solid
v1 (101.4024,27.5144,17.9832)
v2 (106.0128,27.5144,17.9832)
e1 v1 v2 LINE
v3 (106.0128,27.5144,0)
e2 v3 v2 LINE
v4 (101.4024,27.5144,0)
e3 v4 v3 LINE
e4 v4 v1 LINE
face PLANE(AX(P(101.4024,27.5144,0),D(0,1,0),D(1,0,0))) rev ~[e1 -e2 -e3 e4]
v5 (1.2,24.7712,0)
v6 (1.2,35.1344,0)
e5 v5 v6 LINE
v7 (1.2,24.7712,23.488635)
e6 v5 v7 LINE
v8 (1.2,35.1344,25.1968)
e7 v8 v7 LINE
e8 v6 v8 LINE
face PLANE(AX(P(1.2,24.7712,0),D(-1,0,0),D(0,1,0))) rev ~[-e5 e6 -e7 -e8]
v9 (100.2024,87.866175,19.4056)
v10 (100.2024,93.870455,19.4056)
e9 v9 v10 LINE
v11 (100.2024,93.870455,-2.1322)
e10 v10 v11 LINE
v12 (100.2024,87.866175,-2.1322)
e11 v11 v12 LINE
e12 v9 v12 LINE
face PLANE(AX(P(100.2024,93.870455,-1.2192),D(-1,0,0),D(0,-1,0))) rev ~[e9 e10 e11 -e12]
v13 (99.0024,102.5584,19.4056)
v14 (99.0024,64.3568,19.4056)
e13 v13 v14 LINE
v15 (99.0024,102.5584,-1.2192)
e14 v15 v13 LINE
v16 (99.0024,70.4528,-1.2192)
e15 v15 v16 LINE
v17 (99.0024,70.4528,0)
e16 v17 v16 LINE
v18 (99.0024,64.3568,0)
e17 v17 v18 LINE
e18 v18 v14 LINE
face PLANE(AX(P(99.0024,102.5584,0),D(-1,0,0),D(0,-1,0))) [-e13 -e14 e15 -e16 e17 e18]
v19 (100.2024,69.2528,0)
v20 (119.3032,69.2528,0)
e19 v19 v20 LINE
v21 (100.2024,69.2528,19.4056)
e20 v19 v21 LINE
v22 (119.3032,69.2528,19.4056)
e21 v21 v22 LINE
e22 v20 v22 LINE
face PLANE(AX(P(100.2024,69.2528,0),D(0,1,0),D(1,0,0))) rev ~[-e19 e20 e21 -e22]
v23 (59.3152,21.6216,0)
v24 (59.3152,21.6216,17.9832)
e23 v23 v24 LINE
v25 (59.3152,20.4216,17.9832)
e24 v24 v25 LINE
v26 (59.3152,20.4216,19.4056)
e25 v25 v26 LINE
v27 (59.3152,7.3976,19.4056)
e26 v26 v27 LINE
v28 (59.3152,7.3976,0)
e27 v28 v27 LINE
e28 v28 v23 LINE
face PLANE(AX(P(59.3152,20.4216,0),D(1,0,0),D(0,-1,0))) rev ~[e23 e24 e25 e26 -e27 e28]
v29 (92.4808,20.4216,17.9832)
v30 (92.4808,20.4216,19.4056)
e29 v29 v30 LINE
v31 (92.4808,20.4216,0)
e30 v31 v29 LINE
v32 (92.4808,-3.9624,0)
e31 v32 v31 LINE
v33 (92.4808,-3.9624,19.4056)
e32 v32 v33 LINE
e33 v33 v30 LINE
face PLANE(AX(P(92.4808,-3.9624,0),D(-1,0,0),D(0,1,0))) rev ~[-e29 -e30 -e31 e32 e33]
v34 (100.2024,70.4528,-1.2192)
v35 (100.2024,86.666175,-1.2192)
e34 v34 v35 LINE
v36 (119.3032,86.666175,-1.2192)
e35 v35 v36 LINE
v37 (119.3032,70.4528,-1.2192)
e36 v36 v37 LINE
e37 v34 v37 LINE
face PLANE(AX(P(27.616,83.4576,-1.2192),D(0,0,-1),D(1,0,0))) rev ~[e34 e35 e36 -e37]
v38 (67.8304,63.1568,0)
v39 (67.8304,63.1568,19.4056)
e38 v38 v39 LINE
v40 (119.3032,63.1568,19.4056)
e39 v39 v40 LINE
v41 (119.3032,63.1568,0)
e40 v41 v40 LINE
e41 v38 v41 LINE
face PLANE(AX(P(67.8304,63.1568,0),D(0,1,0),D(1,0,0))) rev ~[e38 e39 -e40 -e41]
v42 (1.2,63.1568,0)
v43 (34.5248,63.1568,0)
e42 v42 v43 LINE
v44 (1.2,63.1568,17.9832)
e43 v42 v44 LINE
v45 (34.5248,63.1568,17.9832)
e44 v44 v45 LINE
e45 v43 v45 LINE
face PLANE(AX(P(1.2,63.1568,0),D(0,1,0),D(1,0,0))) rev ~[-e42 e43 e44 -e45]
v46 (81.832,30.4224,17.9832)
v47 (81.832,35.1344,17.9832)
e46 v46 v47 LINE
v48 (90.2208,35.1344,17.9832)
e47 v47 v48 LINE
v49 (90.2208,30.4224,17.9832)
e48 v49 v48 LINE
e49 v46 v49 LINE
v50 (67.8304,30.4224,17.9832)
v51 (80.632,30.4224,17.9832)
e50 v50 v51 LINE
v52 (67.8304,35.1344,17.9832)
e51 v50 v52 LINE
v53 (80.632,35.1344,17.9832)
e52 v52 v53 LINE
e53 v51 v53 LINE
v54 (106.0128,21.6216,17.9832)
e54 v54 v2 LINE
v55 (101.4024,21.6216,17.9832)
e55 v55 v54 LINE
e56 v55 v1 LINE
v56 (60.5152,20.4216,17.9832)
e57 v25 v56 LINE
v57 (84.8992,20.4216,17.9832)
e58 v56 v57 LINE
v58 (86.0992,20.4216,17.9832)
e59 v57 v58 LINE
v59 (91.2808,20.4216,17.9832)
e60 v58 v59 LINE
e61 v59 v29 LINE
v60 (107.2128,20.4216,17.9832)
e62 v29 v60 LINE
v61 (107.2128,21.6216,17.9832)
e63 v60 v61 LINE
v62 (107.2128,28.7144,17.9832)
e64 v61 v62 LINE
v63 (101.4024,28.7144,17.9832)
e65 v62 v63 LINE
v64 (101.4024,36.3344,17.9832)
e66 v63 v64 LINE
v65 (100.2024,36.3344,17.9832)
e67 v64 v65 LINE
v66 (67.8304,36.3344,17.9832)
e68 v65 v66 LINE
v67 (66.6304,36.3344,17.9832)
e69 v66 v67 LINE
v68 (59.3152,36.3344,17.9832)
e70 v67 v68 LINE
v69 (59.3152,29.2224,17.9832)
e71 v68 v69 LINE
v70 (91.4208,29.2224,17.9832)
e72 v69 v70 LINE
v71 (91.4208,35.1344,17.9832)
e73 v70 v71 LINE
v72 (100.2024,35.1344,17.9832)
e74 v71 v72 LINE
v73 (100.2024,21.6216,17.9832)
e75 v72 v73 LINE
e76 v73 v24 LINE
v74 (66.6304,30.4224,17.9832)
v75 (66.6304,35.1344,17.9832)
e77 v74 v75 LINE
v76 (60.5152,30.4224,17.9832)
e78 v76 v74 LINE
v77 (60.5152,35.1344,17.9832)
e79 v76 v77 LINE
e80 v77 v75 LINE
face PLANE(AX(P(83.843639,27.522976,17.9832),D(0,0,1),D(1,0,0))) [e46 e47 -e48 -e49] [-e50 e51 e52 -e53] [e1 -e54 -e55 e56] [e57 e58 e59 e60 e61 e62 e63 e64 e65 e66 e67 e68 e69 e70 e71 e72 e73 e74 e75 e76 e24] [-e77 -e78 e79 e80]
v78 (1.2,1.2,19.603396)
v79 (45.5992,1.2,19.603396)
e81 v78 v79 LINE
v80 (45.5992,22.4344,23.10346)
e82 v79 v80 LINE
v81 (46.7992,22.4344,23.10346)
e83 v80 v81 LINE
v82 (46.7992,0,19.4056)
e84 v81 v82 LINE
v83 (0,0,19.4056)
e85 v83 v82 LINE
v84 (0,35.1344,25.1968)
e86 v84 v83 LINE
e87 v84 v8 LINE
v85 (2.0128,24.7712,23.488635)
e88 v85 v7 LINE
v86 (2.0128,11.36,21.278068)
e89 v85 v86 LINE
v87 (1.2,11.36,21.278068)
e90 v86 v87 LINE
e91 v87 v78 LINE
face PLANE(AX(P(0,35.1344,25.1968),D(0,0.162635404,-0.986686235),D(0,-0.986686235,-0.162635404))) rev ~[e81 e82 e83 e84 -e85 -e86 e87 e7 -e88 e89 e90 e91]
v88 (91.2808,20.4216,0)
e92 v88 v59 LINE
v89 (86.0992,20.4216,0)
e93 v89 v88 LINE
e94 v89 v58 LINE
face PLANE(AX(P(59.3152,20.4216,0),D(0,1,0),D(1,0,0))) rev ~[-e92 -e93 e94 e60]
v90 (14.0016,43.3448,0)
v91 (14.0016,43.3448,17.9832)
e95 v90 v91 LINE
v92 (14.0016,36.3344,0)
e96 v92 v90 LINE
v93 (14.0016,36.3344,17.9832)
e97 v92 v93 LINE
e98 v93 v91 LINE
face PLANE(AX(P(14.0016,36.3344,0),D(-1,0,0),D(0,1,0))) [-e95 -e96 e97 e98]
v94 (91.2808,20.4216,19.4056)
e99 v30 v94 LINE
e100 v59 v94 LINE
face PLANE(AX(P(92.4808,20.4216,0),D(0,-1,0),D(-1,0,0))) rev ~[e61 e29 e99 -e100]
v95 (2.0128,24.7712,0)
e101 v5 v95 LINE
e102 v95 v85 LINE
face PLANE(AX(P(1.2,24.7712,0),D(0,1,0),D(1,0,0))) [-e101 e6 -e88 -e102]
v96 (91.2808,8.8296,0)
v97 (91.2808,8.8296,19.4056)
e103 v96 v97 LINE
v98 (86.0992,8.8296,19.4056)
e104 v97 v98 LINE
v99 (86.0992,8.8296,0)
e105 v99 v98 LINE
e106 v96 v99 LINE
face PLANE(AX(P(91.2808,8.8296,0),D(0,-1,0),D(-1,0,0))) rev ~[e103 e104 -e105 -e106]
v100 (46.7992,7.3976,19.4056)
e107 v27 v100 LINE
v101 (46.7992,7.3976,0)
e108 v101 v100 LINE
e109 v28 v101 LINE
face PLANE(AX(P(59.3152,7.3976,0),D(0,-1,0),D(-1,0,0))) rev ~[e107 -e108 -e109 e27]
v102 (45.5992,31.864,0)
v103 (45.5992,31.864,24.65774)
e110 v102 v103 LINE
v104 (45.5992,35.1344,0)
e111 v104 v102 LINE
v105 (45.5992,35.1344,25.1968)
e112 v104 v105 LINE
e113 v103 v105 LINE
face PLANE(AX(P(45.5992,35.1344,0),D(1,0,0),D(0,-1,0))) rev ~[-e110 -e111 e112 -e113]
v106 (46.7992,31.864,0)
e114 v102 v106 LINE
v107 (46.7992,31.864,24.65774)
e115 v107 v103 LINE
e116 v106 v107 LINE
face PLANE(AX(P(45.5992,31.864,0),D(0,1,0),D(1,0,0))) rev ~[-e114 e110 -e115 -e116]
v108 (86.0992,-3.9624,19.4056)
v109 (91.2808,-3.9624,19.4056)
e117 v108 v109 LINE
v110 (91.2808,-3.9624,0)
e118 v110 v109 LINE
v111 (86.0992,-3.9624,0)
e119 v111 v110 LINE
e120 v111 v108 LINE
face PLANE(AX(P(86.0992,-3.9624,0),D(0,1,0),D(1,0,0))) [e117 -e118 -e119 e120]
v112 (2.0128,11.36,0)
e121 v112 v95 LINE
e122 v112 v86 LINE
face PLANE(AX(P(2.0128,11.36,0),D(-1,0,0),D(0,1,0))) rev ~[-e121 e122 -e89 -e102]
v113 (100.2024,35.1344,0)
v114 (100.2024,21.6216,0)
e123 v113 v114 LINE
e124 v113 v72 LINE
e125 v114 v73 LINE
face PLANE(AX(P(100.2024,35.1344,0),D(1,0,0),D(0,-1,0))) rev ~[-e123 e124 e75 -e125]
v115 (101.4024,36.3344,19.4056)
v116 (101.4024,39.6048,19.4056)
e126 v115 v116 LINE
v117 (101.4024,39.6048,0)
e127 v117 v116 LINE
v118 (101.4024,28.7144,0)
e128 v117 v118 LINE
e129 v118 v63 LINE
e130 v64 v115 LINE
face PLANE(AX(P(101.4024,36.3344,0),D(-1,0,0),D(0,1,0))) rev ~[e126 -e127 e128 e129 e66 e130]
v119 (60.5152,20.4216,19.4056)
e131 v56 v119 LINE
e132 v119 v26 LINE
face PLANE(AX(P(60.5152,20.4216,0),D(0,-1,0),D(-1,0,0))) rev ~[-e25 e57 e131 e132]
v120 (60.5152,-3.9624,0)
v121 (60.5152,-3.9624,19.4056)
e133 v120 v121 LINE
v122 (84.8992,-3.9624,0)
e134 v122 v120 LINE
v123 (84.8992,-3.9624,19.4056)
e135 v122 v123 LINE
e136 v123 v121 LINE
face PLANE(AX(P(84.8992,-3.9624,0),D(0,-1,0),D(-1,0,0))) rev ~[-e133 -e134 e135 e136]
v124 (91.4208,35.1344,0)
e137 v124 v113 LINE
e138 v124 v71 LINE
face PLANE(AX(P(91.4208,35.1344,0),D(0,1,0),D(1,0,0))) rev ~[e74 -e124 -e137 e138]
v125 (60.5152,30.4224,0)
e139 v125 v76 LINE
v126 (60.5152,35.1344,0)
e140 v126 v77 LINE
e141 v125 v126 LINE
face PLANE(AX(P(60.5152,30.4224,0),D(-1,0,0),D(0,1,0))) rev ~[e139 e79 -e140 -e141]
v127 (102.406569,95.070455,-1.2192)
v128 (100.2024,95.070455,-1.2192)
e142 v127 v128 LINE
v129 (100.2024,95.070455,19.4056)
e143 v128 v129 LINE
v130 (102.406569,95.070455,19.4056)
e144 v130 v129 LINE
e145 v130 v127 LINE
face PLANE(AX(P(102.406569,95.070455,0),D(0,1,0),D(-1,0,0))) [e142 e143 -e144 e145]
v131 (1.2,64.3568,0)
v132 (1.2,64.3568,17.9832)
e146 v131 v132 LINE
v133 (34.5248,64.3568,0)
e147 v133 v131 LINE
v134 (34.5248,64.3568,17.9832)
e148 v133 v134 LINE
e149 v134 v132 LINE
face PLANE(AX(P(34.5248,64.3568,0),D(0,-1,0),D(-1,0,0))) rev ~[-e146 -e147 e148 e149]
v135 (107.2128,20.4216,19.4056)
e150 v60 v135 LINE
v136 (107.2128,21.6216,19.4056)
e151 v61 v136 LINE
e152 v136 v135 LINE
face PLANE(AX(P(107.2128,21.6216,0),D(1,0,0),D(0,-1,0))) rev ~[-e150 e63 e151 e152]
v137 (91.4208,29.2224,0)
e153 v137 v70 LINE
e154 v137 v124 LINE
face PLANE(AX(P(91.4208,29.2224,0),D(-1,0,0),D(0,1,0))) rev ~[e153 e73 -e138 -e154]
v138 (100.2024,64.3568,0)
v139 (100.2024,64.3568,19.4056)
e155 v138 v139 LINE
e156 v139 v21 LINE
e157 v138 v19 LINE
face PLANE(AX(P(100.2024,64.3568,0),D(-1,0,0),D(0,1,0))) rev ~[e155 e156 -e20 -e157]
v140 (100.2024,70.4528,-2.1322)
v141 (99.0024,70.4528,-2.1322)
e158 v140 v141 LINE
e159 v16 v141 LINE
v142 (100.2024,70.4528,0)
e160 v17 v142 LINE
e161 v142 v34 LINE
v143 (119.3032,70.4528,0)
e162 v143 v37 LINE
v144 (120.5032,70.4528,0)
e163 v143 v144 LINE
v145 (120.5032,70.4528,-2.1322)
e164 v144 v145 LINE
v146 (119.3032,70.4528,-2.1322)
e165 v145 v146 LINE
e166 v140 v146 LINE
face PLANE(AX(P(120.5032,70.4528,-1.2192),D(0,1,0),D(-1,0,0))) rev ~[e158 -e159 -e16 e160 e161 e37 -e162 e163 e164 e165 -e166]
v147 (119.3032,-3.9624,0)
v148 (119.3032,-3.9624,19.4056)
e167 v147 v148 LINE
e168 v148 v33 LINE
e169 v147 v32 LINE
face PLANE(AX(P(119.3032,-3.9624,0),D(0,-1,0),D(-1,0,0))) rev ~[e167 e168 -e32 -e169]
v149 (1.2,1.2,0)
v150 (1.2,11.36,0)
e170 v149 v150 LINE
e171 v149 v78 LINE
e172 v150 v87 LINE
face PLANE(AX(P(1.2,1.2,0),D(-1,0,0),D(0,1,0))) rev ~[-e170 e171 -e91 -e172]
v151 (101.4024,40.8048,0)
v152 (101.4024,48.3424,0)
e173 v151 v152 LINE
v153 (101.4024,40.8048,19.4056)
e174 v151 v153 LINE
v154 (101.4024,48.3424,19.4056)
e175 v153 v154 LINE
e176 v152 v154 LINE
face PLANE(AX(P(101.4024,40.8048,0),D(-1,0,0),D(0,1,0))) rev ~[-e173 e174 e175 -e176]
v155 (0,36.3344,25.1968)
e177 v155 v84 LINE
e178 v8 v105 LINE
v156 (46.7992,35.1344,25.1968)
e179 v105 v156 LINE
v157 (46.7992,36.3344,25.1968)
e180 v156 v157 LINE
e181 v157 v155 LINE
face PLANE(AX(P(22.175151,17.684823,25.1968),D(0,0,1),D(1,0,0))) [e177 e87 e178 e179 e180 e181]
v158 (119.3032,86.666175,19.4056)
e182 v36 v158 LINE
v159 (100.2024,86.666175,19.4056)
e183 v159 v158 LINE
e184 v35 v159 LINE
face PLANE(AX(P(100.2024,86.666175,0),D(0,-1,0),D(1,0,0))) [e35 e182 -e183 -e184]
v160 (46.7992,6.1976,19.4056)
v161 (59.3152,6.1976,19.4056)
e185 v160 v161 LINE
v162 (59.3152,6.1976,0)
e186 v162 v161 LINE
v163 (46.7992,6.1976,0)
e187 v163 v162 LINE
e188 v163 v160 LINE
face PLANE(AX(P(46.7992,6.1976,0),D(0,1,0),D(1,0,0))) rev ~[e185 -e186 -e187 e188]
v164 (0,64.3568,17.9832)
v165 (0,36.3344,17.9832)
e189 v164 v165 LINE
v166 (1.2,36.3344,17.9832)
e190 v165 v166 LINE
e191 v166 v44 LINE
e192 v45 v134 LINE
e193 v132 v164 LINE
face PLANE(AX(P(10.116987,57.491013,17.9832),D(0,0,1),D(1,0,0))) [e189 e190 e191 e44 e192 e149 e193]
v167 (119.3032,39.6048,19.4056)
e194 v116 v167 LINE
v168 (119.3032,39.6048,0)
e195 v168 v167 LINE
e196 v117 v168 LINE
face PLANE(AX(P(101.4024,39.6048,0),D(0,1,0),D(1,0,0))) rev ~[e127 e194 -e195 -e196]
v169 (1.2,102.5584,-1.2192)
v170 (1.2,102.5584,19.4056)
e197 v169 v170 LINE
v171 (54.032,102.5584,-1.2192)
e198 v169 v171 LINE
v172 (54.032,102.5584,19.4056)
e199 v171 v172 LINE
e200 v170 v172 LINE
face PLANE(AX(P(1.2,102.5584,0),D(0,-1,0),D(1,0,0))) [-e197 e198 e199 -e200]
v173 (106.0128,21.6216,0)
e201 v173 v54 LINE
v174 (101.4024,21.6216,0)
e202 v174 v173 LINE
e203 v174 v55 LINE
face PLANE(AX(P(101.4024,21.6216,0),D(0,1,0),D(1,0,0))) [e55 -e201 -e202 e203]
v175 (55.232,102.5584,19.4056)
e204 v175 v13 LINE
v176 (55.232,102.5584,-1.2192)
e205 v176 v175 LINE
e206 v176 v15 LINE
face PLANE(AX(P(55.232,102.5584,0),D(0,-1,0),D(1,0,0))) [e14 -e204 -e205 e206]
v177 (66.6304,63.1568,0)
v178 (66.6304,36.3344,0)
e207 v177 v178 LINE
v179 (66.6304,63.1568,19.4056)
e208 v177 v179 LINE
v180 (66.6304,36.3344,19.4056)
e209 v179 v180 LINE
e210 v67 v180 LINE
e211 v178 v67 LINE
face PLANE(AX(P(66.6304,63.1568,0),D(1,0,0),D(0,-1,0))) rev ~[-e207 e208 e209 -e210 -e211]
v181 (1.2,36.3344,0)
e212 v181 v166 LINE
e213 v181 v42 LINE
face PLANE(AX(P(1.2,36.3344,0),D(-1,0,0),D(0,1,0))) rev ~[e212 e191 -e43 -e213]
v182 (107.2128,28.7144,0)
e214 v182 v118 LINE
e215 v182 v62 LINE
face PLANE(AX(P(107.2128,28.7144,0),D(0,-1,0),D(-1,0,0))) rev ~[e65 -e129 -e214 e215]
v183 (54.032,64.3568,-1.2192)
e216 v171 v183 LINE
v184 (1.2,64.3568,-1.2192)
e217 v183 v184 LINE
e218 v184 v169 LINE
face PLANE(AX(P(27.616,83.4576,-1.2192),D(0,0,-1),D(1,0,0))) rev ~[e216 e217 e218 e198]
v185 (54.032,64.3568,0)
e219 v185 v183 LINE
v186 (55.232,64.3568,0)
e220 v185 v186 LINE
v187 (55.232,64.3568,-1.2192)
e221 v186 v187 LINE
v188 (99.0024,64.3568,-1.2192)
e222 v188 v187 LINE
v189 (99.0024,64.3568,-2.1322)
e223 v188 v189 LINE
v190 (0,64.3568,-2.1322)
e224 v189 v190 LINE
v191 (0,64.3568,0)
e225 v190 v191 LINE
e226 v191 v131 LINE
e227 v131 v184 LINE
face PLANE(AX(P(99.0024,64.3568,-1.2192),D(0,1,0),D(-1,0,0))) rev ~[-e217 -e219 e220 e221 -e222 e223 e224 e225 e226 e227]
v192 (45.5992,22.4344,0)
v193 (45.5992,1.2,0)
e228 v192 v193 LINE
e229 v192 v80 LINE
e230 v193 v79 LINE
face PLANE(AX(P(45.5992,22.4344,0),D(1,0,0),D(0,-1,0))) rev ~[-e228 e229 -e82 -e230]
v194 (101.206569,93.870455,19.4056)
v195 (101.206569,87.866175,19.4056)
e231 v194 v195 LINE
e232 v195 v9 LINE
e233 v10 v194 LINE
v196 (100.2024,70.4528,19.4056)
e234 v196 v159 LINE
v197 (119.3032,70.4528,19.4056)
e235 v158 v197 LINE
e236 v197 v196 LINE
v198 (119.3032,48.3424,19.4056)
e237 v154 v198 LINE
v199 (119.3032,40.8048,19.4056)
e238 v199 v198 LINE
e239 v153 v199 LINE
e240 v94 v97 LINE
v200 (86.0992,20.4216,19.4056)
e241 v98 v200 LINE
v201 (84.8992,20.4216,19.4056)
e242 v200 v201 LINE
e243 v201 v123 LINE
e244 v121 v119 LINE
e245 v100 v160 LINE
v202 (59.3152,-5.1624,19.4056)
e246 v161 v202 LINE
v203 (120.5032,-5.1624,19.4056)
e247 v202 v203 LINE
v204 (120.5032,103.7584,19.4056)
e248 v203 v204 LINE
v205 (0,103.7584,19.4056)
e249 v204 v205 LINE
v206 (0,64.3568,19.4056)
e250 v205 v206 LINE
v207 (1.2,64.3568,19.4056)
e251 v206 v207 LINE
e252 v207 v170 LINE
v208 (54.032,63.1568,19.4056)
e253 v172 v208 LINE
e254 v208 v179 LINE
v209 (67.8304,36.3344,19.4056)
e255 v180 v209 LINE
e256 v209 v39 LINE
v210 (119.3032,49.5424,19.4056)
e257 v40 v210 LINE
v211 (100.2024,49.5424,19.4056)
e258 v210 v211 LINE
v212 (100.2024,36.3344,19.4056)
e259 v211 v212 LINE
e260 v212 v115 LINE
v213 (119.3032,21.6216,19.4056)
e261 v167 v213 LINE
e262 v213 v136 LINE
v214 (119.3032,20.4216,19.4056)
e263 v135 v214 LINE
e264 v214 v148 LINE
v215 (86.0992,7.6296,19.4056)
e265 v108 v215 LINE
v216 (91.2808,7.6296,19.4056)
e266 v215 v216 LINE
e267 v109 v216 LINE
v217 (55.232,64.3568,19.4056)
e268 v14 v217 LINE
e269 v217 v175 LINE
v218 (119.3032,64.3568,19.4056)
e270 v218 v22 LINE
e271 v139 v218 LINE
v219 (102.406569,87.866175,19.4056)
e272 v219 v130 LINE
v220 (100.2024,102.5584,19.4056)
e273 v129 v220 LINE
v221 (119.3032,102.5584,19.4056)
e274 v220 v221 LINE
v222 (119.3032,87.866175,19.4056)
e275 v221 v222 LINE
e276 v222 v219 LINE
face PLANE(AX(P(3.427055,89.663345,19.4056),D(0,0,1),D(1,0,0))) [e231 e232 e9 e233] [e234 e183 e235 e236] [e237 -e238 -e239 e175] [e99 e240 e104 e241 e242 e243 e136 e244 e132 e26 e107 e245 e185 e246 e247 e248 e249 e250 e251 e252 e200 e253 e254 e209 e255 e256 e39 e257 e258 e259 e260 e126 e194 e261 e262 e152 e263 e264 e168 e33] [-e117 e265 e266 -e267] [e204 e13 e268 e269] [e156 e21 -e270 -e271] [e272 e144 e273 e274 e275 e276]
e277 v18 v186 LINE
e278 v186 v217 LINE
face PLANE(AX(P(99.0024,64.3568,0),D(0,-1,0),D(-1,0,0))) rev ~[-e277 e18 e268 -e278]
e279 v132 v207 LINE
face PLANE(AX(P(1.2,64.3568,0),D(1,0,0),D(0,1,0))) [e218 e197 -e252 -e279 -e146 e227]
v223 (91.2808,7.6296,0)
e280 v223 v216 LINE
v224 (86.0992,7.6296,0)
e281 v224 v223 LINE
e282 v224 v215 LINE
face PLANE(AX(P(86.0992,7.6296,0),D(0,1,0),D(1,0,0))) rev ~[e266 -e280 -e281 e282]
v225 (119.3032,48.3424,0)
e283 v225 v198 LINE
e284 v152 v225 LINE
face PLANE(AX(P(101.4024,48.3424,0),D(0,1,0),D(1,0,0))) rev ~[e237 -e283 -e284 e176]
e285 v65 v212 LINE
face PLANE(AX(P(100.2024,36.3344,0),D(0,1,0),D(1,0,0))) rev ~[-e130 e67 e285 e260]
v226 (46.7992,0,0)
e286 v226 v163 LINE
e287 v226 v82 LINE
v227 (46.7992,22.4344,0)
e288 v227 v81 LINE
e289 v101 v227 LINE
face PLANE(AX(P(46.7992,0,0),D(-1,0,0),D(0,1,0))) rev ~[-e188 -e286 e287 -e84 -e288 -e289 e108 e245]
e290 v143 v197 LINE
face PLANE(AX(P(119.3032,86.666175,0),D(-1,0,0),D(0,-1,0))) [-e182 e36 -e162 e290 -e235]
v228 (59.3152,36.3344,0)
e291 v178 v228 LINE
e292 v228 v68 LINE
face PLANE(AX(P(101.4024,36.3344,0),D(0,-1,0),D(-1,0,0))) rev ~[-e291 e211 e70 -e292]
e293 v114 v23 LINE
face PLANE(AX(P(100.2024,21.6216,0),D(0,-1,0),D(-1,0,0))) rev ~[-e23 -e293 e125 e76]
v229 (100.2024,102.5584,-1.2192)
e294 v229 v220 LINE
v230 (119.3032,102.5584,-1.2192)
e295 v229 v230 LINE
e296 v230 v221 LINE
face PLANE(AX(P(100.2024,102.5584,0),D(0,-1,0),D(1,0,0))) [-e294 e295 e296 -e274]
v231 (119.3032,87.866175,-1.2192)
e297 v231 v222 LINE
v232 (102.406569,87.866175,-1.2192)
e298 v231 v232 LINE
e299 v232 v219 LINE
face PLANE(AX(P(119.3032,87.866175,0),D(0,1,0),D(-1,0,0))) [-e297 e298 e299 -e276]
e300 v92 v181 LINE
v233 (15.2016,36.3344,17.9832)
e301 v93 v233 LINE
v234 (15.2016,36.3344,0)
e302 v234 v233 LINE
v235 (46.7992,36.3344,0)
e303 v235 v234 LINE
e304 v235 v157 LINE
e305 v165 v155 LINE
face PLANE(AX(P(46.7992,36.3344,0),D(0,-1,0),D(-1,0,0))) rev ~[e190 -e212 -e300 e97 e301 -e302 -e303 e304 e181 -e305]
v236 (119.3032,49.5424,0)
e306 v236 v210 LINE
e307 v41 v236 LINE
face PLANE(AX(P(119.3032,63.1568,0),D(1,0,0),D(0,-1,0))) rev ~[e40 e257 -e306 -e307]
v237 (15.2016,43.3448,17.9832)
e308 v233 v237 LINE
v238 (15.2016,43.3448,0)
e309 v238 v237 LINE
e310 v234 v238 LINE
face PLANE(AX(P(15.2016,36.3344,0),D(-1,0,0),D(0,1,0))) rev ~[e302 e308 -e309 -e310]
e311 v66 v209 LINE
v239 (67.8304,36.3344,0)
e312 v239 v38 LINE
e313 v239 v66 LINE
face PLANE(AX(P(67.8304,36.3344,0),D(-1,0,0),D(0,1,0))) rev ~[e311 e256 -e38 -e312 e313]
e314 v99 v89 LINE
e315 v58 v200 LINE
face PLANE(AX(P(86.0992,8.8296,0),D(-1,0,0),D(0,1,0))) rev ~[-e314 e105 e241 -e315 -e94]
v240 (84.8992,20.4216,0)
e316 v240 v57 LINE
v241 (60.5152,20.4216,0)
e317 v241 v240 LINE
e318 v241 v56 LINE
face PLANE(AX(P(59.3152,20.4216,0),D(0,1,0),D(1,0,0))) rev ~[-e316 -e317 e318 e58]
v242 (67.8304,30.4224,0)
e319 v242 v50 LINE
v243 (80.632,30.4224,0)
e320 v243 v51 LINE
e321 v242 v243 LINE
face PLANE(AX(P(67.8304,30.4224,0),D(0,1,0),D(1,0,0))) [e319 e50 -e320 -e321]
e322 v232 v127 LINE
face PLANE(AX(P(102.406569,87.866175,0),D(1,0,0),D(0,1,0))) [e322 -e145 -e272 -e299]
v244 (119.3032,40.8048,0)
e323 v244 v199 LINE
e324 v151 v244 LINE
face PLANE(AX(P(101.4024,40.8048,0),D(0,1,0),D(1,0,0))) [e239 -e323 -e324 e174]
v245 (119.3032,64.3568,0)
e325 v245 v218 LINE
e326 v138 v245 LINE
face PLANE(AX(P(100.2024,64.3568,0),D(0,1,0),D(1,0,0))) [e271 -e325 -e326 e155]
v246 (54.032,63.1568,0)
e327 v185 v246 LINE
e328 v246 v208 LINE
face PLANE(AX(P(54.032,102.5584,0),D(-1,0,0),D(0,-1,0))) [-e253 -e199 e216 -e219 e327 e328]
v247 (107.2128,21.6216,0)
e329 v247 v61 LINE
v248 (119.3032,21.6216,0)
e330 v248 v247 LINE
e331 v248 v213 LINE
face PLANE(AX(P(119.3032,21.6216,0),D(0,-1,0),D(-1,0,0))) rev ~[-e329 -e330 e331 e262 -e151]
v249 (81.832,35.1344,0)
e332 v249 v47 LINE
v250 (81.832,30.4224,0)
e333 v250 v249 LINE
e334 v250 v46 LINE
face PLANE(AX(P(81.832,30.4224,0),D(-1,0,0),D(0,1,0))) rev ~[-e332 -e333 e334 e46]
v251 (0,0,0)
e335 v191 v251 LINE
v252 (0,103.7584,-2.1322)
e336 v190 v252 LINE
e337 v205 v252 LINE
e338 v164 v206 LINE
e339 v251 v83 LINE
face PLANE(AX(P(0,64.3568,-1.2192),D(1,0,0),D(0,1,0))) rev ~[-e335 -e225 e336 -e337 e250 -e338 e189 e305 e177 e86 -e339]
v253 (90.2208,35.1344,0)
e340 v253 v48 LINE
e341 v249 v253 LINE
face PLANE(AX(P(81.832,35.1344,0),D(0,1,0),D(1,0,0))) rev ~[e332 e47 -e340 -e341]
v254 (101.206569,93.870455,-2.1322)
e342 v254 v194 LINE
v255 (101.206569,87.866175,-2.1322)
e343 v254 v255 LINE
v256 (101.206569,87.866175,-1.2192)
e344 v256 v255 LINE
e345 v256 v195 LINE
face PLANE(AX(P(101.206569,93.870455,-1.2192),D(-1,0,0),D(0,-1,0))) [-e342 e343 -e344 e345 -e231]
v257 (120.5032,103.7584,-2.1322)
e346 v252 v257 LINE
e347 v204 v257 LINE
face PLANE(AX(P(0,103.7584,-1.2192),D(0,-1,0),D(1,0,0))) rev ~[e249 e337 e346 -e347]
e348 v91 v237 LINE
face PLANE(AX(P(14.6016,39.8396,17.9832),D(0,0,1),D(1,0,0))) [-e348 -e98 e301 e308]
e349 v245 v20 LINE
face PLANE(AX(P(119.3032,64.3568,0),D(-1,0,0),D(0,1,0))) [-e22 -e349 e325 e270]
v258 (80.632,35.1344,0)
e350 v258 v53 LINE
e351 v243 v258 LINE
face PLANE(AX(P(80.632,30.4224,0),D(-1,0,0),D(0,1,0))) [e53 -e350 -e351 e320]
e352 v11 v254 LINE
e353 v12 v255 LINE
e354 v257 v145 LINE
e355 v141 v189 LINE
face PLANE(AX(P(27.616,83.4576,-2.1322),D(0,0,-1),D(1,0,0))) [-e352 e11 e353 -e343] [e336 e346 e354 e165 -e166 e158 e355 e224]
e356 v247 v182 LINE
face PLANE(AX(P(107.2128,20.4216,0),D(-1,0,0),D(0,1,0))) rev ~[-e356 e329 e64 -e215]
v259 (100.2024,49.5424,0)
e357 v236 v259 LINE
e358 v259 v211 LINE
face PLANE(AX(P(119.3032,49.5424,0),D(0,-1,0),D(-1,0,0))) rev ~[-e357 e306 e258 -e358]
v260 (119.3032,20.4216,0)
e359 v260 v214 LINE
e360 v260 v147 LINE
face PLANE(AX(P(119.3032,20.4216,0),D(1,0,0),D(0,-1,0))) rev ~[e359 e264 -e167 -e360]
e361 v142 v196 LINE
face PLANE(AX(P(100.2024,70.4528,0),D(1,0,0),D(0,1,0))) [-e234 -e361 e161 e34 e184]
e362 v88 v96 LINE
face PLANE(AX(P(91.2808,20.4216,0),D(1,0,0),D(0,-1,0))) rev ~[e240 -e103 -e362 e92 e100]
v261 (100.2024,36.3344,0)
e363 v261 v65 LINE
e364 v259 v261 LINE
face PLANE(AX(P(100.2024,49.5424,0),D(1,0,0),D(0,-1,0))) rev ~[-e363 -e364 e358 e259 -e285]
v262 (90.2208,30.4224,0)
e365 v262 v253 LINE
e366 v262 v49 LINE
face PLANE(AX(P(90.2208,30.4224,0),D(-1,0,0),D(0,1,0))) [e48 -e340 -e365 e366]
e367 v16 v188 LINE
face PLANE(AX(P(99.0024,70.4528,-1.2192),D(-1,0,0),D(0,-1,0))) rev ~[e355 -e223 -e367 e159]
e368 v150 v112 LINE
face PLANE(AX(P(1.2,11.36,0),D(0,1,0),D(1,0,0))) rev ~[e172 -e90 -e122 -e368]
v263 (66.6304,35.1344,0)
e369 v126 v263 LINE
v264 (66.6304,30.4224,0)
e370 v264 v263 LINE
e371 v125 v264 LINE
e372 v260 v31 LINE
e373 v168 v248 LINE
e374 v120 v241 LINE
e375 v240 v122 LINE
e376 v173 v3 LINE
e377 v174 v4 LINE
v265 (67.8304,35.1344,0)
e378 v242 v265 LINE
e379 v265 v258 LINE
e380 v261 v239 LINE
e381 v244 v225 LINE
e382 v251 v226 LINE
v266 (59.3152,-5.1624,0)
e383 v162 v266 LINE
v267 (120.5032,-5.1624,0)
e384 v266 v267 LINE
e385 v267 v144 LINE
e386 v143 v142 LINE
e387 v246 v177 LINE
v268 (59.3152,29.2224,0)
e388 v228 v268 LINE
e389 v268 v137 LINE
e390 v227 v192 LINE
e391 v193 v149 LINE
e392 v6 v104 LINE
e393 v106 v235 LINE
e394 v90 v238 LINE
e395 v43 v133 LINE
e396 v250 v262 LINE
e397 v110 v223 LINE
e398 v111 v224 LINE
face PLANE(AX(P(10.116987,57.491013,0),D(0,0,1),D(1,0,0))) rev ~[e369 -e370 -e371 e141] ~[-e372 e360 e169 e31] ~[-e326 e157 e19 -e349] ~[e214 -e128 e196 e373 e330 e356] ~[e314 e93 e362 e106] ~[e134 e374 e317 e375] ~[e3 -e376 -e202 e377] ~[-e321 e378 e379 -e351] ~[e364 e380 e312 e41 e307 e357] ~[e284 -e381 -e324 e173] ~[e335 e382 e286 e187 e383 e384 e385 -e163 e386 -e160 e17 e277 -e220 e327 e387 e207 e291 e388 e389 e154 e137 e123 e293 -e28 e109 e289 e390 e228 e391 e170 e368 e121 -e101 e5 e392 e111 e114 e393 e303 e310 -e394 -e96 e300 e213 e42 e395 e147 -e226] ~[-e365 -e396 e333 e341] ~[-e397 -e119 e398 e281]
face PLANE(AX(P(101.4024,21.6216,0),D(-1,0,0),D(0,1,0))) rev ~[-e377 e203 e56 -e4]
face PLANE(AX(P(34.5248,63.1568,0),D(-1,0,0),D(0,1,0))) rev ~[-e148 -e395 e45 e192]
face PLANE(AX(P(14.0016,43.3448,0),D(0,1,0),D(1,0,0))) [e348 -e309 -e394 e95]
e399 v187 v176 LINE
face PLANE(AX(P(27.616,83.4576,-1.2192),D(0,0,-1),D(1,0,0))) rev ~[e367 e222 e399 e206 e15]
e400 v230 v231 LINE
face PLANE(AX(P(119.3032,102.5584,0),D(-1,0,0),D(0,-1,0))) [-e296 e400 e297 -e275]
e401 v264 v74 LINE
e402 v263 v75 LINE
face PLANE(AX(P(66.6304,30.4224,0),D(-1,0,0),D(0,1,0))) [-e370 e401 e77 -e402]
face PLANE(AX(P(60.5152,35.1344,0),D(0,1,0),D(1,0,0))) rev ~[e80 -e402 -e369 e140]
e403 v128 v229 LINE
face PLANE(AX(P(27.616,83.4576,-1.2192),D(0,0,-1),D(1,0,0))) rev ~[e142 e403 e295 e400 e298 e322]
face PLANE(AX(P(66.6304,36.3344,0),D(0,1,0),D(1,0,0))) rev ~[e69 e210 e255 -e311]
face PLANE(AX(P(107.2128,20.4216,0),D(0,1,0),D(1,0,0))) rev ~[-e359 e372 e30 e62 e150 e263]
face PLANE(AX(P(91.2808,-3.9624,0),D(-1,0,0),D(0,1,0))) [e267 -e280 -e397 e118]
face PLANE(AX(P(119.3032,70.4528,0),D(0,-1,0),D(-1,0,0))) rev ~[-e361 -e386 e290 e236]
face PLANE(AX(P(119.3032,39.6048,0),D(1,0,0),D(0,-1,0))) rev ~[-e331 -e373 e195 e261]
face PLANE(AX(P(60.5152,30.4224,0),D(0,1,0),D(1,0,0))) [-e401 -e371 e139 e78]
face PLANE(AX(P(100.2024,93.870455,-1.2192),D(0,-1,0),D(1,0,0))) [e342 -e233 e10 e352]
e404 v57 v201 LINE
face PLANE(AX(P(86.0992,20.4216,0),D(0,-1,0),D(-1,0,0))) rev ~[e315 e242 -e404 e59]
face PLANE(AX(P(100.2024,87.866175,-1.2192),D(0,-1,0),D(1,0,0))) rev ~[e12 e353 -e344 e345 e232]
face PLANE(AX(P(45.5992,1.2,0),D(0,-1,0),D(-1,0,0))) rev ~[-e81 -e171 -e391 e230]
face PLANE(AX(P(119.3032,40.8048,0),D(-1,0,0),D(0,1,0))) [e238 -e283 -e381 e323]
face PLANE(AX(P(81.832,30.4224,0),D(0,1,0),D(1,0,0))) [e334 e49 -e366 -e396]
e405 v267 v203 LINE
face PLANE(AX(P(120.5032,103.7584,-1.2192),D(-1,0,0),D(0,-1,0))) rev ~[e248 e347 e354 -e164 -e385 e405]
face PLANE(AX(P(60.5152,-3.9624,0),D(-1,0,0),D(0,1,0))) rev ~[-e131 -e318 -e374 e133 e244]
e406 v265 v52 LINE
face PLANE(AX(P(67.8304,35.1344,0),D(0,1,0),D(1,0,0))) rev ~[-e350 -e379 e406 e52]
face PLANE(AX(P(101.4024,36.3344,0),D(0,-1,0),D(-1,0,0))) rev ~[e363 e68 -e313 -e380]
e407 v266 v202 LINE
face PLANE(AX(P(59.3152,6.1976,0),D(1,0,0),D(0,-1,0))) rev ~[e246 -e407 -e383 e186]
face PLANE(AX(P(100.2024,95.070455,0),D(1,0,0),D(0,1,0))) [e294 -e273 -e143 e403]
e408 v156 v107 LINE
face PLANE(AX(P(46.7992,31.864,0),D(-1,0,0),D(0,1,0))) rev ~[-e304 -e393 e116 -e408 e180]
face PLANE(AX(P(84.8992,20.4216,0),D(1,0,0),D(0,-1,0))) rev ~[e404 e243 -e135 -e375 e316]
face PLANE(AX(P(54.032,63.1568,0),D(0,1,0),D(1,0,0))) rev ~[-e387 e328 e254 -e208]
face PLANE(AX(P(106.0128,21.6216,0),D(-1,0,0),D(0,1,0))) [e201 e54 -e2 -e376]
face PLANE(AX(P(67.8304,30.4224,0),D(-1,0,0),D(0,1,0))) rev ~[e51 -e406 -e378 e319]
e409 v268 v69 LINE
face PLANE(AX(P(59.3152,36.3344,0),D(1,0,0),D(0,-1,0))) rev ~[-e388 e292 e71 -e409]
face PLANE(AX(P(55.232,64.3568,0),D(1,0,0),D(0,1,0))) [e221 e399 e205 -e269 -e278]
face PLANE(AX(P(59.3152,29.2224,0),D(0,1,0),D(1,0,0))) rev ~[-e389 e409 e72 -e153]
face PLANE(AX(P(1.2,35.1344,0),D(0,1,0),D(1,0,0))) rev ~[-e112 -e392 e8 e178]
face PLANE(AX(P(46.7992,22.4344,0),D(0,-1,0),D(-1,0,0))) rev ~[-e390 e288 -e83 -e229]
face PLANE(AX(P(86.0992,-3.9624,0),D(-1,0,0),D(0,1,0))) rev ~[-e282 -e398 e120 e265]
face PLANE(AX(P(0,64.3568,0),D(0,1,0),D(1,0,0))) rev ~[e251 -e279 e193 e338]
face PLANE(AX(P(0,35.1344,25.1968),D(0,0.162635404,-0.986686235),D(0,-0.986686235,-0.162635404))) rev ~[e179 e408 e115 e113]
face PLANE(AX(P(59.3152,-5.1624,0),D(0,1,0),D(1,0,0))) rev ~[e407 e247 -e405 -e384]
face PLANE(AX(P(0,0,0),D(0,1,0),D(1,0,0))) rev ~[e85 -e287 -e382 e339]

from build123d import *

# Parameters (mm, degrees)
F5_W      = 0.8128
F5_H      = 13.4112
F6_DEPTH  = 25.1968
F8_DEPTH  = 46.8002
F5_W_2    = 19.5072
F5_H_2    = 1.2
F5_W_3    = 5.1816
F5_H_3    = 11.592
F5_W_4    = 17.9008
F5_H_4    = 7.5376
F5_W_5    = 19.1008
F5_H_5    = 4.896
F5_W_6    = 1.2
F5_H_6    = 6.004279983
F9_DEPTH  = 19.4056
F5_W_7    = 4.6104
F5_H_7    = 5.8928
F5_W_8    = 6.1152
F5_H_8    = 4.712
F5_W_9    = 12.8016
F5_W_10   = 8.3888
F5_H_9    = 7.0104
F10_DEPTH = 17.9832
F11_DEPTH = 1.2192
F12_W     = 52.832
F12_H     = 38.2016
F12_W_2   = 1.0041694948
F12_H_2   = 6.004279983
F12_W_3   = 19.1008
F12_H_3   = 16.2133753487
F13_DEPTH = 0.913


with BuildPart() as f6:
    # F5 (on Top) → F6 (new body)
    with BuildSketch(Plane.XY):
        Polygon((0, 36.3344), (0, 0), (46.7992, 0), (46.7992, 1.2), (46.7992, 6.1976), (46.7992, 7.3976), (46.7992, 22.4344), (45.5992, 22.4344), (45.5992, 1.2), (1.2, 1.2), (1.2, 11.36), (1.2, 24.7712), (1.2, 35.1344), (45.5992, 35.1344), (45.5992, 31.864), (46.7992, 31.864), (46.7992, 36.3344), (15.2016, 36.3344), (14.0016, 36.3344), (1.2, 36.3344), align=None)
        with Locations((1.6064, 18.0656)):
            Rectangle(F5_W, F5_H)
    extrude(amount=F6_DEPTH)

    # F7 (on face) → F8 (cut, through all)
    with BuildSketch(Plane(origin=(0, 0, 0), x_dir=(0, -1, 0), z_dir=(-1, 0, 0))):
        Polygon((-35.1344, 25.1968), (0, 19.4056), (0, 25.1968), align=None)
    extrude(amount=-F8_DEPTH, mode=Mode.SUBTRACT)

    # F5 (on Top) → F9 (join)
    with BuildSketch(Plane.XY):
        Polygon((0, 103.7584), (0, 64.3568), (1.2, 64.3568), (1.2, 102.5584), (18.0656, 102.5584), (18.0656, 103.7584), align=None)
        with Locations((27.8192, 103.1584)):
            Rectangle(F5_W_2, F5_H_2)
        Polygon((120.5032, 103.7584), (37.5728, 103.7584), (37.5728, 102.5584), (54.032, 102.5584), (54.032, 64.3568), (55.232, 64.3568), (55.232, 102.5584), (99.0024, 102.5584), (99.0024, 93.8704553318), (100.2024, 93.8704553318), (101.2065694948, 93.8704553318), (101.2065694948, 87.8661753487), (100.2024, 87.8661753487), (99.0024, 87.8661753487), (99.0024, 70.4528), (100.2024, 70.4528), (100.2024, 86.6661753487), (102.4065694948, 86.6661753487), (119.3032, 86.6661753487), (119.3032, 70.4528), (120.5032, 70.4528), align=None)
        Polygon((100.2024, 95.0704553318), (100.2024, 102.5584), (119.3032, 102.5584), (119.3032, 87.8661753487), (102.4065694948, 87.8661753487), (102.4065694948, 95.0704553318), align=None, mode=Mode.SUBTRACT)
        Polygon((46.7992, 7.3976), (46.7992, 6.1976), (59.3152, 6.1976), (59.3152, -3.9624), (59.3152, -5.1624), (60.5152, -5.1624), (119.3032, -5.1624), (120.5032, -5.1624), (120.5032, 70.4528), (119.3032, 70.4528), (100.2024, 70.4528), (99.0024, 70.4528), (99.0024, 64.3568), (55.232, 64.3568), (54.032, 64.3568), (54.032, 63.1568), (66.6304, 63.1568), (66.6304, 36.3344), (67.8304, 36.3344), (67.8304, 63.1568), (119.3032, 63.1568), (119.3032, 49.5424), (100.2024, 49.5424), (100.2024, 36.3344), (101.4024, 36.3344), (101.4024, 39.6048), (119.3032, 39.6048), (119.3032, 21.6216), (107.2128, 21.6216), (107.2128, 20.4216), (119.3032, 20.4216), (119.3032, -3.9624), (92.4808, -3.9624), (92.4808, 20.4216), (91.2808, 20.4216), (91.2808, 8.8296), (86.0992, 8.8296), (86.0992, 20.4216), (84.8992, 20.4216), (84.8992, -3.9624), (60.5152, -3.9624), (60.5152, 20.4216), (59.3152, 20.4216), (59.3152, 7.3976), align=None)
        with Locations((88.69, 1.8336)):
            Rectangle(F5_W_3, F5_H_3, mode=Mode.SUBTRACT)
        with Locations((110.3528, 44.5736)):
            Rectangle(F5_W_4, F5_H_4, mode=Mode.SUBTRACT)
        with Locations((109.7528, 66.8048)):
            Rectangle(F5_W_5, F5_H_5, mode=Mode.SUBTRACT)
        with Locations((99.6024, 90.8683153403)):
            Rectangle(F5_W_6, F5_H_6)
    extrude(amount=F9_DEPTH)

    # F5 (on Top) → F10 (join)
    with BuildSketch(Plane.XY):
        Polygon((0, 64.3568), (0, 36.3344), (1.2, 36.3344), (1.2, 63.1568), (34.5248, 63.1568), (34.5248, 64.3568), (1.2, 64.3568), align=None)
        Polygon((59.3152, 21.6216), (59.3152, 20.4216), (60.5152, 20.4216), (84.8992, 20.4216), (86.0992, 20.4216), (91.2808, 20.4216), (92.4808, 20.4216), (107.2128, 20.4216), (107.2128, 21.6216), (107.2128, 28.7144), (101.4024, 28.7144), (101.4024, 36.3344), (100.2024, 36.3344), (67.8304, 36.3344), (66.6304, 36.3344), (59.3152, 36.3344), (59.3152, 29.2224), (91.4208, 29.2224), (91.4208, 35.1344), (100.2024, 35.1344), (100.2024, 21.6216), align=None)
        with Locations((103.7076, 24.568)):
            Rectangle(F5_W_7, F5_H_7, mode=Mode.SUBTRACT)
        with Locations((63.5728, 32.7784)):
            Rectangle(F5_W_8, F5_H_8, mode=Mode.SUBTRACT)
        with Locations((74.2312, 32.7784)):
            Rectangle(F5_W_9, F5_H_8, mode=Mode.SUBTRACT)
        with Locations((86.0264, 32.7784)):
            Rectangle(F5_W_10, F5_H_8, mode=Mode.SUBTRACT)
        with Locations((14.6016, 39.8396)):
            Rectangle(F5_W_6, F5_H_9)
    extrude(amount=F10_DEPTH)

    # F5 (on Top) → F11 (join)
    with BuildSketch(Plane.XY):
        Polygon((120.5032, 103.7584), (37.5728, 103.7584), (37.5728, 102.5584), (54.032, 102.5584), (54.032, 64.3568), (55.232, 64.3568), (55.232, 102.5584), (99.0024, 102.5584), (99.0024, 93.8704553318), (100.2024, 93.8704553318), (101.2065694948, 93.8704553318), (101.2065694948, 87.8661753487), (100.2024, 87.8661753487), (99.0024, 87.8661753487), (99.0024, 70.4528), (100.2024, 70.4528), (100.2024, 86.6661753487), (102.4065694948, 86.6661753487), (119.3032, 86.6661753487), (119.3032, 70.4528), (120.5032, 70.4528), align=None)
        Polygon((100.2024, 95.0704553318), (100.2024, 102.5584), (119.3032, 102.5584), (119.3032, 87.8661753487), (102.4065694948, 87.8661753487), (102.4065694948, 95.0704553318), align=None, mode=Mode.SUBTRACT)
        with Locations((27.8192, 103.1584)):
            Rectangle(F5_W_2, F5_H_2)
        Polygon((0, 103.7584), (0, 64.3568), (1.2, 64.3568), (1.2, 102.5584), (18.0656, 102.5584), (18.0656, 103.7584), align=None)
        with Locations((99.6024, 90.8683153403)):
            Rectangle(F5_W_6, F5_H_6)
    extrude(amount=-F11_DEPTH)

    # F12 (on face) → F13 (join)
    with BuildSketch(Plane(origin=(0, 0, -1.2192), x_dir=(1, 0, 0), z_dir=(0, 0, -1))):
        with Locations((27.616, -83.4576)):
            Rectangle(F12_W, F12_H)
        Polygon((99.0024, -64.3568), (55.232, -64.3568), (55.232, -102.5584), (99.0024, -102.5584), (99.0024, -70.4528), align=None)
        Polygon((1.2, -64.3568), (0, -64.3568), (0, -103.7584), (120.5032, -103.7584), (120.5032, -70.4528), (119.3032, -70.4528), (119.3032, -86.6661753487), (100.2024, -86.6661753487), (100.2024, -70.4528), (99.0024, -70.4528), (99.0024, -102.5584), (55.232, -102.5584), (55.232, -64.3568), (54.032, -64.3568), (54.032, -102.5584), (1.2, -102.5584), align=None)
        Polygon((119.3032, -102.5584), (100.2024, -102.5584), (100.2024, -95.0704553318), (102.4065694948, -95.0704553318), (102.4065694948, -87.8661753487), (119.3032, -87.8661753487), align=None, mode=Mode.SUBTRACT)
        with Locations((100.7044847474, -90.8683153403)):
            Rectangle(F12_W_2, F12_H_2, mode=Mode.SUBTRACT)
        with Locations((109.7528, -78.5594876744)):
            Rectangle(F12_W_3, F12_H_3)
        Polygon((100.2024, -95.0704553318), (100.2024, -102.5584), (119.3032, -102.5584), (119.3032, -87.8661753487), (102.4065694948, -87.8661753487), (102.4065694948, -95.0704553318), align=None)
    extrude(amount=F13_DEPTH)


solid = f6.part
